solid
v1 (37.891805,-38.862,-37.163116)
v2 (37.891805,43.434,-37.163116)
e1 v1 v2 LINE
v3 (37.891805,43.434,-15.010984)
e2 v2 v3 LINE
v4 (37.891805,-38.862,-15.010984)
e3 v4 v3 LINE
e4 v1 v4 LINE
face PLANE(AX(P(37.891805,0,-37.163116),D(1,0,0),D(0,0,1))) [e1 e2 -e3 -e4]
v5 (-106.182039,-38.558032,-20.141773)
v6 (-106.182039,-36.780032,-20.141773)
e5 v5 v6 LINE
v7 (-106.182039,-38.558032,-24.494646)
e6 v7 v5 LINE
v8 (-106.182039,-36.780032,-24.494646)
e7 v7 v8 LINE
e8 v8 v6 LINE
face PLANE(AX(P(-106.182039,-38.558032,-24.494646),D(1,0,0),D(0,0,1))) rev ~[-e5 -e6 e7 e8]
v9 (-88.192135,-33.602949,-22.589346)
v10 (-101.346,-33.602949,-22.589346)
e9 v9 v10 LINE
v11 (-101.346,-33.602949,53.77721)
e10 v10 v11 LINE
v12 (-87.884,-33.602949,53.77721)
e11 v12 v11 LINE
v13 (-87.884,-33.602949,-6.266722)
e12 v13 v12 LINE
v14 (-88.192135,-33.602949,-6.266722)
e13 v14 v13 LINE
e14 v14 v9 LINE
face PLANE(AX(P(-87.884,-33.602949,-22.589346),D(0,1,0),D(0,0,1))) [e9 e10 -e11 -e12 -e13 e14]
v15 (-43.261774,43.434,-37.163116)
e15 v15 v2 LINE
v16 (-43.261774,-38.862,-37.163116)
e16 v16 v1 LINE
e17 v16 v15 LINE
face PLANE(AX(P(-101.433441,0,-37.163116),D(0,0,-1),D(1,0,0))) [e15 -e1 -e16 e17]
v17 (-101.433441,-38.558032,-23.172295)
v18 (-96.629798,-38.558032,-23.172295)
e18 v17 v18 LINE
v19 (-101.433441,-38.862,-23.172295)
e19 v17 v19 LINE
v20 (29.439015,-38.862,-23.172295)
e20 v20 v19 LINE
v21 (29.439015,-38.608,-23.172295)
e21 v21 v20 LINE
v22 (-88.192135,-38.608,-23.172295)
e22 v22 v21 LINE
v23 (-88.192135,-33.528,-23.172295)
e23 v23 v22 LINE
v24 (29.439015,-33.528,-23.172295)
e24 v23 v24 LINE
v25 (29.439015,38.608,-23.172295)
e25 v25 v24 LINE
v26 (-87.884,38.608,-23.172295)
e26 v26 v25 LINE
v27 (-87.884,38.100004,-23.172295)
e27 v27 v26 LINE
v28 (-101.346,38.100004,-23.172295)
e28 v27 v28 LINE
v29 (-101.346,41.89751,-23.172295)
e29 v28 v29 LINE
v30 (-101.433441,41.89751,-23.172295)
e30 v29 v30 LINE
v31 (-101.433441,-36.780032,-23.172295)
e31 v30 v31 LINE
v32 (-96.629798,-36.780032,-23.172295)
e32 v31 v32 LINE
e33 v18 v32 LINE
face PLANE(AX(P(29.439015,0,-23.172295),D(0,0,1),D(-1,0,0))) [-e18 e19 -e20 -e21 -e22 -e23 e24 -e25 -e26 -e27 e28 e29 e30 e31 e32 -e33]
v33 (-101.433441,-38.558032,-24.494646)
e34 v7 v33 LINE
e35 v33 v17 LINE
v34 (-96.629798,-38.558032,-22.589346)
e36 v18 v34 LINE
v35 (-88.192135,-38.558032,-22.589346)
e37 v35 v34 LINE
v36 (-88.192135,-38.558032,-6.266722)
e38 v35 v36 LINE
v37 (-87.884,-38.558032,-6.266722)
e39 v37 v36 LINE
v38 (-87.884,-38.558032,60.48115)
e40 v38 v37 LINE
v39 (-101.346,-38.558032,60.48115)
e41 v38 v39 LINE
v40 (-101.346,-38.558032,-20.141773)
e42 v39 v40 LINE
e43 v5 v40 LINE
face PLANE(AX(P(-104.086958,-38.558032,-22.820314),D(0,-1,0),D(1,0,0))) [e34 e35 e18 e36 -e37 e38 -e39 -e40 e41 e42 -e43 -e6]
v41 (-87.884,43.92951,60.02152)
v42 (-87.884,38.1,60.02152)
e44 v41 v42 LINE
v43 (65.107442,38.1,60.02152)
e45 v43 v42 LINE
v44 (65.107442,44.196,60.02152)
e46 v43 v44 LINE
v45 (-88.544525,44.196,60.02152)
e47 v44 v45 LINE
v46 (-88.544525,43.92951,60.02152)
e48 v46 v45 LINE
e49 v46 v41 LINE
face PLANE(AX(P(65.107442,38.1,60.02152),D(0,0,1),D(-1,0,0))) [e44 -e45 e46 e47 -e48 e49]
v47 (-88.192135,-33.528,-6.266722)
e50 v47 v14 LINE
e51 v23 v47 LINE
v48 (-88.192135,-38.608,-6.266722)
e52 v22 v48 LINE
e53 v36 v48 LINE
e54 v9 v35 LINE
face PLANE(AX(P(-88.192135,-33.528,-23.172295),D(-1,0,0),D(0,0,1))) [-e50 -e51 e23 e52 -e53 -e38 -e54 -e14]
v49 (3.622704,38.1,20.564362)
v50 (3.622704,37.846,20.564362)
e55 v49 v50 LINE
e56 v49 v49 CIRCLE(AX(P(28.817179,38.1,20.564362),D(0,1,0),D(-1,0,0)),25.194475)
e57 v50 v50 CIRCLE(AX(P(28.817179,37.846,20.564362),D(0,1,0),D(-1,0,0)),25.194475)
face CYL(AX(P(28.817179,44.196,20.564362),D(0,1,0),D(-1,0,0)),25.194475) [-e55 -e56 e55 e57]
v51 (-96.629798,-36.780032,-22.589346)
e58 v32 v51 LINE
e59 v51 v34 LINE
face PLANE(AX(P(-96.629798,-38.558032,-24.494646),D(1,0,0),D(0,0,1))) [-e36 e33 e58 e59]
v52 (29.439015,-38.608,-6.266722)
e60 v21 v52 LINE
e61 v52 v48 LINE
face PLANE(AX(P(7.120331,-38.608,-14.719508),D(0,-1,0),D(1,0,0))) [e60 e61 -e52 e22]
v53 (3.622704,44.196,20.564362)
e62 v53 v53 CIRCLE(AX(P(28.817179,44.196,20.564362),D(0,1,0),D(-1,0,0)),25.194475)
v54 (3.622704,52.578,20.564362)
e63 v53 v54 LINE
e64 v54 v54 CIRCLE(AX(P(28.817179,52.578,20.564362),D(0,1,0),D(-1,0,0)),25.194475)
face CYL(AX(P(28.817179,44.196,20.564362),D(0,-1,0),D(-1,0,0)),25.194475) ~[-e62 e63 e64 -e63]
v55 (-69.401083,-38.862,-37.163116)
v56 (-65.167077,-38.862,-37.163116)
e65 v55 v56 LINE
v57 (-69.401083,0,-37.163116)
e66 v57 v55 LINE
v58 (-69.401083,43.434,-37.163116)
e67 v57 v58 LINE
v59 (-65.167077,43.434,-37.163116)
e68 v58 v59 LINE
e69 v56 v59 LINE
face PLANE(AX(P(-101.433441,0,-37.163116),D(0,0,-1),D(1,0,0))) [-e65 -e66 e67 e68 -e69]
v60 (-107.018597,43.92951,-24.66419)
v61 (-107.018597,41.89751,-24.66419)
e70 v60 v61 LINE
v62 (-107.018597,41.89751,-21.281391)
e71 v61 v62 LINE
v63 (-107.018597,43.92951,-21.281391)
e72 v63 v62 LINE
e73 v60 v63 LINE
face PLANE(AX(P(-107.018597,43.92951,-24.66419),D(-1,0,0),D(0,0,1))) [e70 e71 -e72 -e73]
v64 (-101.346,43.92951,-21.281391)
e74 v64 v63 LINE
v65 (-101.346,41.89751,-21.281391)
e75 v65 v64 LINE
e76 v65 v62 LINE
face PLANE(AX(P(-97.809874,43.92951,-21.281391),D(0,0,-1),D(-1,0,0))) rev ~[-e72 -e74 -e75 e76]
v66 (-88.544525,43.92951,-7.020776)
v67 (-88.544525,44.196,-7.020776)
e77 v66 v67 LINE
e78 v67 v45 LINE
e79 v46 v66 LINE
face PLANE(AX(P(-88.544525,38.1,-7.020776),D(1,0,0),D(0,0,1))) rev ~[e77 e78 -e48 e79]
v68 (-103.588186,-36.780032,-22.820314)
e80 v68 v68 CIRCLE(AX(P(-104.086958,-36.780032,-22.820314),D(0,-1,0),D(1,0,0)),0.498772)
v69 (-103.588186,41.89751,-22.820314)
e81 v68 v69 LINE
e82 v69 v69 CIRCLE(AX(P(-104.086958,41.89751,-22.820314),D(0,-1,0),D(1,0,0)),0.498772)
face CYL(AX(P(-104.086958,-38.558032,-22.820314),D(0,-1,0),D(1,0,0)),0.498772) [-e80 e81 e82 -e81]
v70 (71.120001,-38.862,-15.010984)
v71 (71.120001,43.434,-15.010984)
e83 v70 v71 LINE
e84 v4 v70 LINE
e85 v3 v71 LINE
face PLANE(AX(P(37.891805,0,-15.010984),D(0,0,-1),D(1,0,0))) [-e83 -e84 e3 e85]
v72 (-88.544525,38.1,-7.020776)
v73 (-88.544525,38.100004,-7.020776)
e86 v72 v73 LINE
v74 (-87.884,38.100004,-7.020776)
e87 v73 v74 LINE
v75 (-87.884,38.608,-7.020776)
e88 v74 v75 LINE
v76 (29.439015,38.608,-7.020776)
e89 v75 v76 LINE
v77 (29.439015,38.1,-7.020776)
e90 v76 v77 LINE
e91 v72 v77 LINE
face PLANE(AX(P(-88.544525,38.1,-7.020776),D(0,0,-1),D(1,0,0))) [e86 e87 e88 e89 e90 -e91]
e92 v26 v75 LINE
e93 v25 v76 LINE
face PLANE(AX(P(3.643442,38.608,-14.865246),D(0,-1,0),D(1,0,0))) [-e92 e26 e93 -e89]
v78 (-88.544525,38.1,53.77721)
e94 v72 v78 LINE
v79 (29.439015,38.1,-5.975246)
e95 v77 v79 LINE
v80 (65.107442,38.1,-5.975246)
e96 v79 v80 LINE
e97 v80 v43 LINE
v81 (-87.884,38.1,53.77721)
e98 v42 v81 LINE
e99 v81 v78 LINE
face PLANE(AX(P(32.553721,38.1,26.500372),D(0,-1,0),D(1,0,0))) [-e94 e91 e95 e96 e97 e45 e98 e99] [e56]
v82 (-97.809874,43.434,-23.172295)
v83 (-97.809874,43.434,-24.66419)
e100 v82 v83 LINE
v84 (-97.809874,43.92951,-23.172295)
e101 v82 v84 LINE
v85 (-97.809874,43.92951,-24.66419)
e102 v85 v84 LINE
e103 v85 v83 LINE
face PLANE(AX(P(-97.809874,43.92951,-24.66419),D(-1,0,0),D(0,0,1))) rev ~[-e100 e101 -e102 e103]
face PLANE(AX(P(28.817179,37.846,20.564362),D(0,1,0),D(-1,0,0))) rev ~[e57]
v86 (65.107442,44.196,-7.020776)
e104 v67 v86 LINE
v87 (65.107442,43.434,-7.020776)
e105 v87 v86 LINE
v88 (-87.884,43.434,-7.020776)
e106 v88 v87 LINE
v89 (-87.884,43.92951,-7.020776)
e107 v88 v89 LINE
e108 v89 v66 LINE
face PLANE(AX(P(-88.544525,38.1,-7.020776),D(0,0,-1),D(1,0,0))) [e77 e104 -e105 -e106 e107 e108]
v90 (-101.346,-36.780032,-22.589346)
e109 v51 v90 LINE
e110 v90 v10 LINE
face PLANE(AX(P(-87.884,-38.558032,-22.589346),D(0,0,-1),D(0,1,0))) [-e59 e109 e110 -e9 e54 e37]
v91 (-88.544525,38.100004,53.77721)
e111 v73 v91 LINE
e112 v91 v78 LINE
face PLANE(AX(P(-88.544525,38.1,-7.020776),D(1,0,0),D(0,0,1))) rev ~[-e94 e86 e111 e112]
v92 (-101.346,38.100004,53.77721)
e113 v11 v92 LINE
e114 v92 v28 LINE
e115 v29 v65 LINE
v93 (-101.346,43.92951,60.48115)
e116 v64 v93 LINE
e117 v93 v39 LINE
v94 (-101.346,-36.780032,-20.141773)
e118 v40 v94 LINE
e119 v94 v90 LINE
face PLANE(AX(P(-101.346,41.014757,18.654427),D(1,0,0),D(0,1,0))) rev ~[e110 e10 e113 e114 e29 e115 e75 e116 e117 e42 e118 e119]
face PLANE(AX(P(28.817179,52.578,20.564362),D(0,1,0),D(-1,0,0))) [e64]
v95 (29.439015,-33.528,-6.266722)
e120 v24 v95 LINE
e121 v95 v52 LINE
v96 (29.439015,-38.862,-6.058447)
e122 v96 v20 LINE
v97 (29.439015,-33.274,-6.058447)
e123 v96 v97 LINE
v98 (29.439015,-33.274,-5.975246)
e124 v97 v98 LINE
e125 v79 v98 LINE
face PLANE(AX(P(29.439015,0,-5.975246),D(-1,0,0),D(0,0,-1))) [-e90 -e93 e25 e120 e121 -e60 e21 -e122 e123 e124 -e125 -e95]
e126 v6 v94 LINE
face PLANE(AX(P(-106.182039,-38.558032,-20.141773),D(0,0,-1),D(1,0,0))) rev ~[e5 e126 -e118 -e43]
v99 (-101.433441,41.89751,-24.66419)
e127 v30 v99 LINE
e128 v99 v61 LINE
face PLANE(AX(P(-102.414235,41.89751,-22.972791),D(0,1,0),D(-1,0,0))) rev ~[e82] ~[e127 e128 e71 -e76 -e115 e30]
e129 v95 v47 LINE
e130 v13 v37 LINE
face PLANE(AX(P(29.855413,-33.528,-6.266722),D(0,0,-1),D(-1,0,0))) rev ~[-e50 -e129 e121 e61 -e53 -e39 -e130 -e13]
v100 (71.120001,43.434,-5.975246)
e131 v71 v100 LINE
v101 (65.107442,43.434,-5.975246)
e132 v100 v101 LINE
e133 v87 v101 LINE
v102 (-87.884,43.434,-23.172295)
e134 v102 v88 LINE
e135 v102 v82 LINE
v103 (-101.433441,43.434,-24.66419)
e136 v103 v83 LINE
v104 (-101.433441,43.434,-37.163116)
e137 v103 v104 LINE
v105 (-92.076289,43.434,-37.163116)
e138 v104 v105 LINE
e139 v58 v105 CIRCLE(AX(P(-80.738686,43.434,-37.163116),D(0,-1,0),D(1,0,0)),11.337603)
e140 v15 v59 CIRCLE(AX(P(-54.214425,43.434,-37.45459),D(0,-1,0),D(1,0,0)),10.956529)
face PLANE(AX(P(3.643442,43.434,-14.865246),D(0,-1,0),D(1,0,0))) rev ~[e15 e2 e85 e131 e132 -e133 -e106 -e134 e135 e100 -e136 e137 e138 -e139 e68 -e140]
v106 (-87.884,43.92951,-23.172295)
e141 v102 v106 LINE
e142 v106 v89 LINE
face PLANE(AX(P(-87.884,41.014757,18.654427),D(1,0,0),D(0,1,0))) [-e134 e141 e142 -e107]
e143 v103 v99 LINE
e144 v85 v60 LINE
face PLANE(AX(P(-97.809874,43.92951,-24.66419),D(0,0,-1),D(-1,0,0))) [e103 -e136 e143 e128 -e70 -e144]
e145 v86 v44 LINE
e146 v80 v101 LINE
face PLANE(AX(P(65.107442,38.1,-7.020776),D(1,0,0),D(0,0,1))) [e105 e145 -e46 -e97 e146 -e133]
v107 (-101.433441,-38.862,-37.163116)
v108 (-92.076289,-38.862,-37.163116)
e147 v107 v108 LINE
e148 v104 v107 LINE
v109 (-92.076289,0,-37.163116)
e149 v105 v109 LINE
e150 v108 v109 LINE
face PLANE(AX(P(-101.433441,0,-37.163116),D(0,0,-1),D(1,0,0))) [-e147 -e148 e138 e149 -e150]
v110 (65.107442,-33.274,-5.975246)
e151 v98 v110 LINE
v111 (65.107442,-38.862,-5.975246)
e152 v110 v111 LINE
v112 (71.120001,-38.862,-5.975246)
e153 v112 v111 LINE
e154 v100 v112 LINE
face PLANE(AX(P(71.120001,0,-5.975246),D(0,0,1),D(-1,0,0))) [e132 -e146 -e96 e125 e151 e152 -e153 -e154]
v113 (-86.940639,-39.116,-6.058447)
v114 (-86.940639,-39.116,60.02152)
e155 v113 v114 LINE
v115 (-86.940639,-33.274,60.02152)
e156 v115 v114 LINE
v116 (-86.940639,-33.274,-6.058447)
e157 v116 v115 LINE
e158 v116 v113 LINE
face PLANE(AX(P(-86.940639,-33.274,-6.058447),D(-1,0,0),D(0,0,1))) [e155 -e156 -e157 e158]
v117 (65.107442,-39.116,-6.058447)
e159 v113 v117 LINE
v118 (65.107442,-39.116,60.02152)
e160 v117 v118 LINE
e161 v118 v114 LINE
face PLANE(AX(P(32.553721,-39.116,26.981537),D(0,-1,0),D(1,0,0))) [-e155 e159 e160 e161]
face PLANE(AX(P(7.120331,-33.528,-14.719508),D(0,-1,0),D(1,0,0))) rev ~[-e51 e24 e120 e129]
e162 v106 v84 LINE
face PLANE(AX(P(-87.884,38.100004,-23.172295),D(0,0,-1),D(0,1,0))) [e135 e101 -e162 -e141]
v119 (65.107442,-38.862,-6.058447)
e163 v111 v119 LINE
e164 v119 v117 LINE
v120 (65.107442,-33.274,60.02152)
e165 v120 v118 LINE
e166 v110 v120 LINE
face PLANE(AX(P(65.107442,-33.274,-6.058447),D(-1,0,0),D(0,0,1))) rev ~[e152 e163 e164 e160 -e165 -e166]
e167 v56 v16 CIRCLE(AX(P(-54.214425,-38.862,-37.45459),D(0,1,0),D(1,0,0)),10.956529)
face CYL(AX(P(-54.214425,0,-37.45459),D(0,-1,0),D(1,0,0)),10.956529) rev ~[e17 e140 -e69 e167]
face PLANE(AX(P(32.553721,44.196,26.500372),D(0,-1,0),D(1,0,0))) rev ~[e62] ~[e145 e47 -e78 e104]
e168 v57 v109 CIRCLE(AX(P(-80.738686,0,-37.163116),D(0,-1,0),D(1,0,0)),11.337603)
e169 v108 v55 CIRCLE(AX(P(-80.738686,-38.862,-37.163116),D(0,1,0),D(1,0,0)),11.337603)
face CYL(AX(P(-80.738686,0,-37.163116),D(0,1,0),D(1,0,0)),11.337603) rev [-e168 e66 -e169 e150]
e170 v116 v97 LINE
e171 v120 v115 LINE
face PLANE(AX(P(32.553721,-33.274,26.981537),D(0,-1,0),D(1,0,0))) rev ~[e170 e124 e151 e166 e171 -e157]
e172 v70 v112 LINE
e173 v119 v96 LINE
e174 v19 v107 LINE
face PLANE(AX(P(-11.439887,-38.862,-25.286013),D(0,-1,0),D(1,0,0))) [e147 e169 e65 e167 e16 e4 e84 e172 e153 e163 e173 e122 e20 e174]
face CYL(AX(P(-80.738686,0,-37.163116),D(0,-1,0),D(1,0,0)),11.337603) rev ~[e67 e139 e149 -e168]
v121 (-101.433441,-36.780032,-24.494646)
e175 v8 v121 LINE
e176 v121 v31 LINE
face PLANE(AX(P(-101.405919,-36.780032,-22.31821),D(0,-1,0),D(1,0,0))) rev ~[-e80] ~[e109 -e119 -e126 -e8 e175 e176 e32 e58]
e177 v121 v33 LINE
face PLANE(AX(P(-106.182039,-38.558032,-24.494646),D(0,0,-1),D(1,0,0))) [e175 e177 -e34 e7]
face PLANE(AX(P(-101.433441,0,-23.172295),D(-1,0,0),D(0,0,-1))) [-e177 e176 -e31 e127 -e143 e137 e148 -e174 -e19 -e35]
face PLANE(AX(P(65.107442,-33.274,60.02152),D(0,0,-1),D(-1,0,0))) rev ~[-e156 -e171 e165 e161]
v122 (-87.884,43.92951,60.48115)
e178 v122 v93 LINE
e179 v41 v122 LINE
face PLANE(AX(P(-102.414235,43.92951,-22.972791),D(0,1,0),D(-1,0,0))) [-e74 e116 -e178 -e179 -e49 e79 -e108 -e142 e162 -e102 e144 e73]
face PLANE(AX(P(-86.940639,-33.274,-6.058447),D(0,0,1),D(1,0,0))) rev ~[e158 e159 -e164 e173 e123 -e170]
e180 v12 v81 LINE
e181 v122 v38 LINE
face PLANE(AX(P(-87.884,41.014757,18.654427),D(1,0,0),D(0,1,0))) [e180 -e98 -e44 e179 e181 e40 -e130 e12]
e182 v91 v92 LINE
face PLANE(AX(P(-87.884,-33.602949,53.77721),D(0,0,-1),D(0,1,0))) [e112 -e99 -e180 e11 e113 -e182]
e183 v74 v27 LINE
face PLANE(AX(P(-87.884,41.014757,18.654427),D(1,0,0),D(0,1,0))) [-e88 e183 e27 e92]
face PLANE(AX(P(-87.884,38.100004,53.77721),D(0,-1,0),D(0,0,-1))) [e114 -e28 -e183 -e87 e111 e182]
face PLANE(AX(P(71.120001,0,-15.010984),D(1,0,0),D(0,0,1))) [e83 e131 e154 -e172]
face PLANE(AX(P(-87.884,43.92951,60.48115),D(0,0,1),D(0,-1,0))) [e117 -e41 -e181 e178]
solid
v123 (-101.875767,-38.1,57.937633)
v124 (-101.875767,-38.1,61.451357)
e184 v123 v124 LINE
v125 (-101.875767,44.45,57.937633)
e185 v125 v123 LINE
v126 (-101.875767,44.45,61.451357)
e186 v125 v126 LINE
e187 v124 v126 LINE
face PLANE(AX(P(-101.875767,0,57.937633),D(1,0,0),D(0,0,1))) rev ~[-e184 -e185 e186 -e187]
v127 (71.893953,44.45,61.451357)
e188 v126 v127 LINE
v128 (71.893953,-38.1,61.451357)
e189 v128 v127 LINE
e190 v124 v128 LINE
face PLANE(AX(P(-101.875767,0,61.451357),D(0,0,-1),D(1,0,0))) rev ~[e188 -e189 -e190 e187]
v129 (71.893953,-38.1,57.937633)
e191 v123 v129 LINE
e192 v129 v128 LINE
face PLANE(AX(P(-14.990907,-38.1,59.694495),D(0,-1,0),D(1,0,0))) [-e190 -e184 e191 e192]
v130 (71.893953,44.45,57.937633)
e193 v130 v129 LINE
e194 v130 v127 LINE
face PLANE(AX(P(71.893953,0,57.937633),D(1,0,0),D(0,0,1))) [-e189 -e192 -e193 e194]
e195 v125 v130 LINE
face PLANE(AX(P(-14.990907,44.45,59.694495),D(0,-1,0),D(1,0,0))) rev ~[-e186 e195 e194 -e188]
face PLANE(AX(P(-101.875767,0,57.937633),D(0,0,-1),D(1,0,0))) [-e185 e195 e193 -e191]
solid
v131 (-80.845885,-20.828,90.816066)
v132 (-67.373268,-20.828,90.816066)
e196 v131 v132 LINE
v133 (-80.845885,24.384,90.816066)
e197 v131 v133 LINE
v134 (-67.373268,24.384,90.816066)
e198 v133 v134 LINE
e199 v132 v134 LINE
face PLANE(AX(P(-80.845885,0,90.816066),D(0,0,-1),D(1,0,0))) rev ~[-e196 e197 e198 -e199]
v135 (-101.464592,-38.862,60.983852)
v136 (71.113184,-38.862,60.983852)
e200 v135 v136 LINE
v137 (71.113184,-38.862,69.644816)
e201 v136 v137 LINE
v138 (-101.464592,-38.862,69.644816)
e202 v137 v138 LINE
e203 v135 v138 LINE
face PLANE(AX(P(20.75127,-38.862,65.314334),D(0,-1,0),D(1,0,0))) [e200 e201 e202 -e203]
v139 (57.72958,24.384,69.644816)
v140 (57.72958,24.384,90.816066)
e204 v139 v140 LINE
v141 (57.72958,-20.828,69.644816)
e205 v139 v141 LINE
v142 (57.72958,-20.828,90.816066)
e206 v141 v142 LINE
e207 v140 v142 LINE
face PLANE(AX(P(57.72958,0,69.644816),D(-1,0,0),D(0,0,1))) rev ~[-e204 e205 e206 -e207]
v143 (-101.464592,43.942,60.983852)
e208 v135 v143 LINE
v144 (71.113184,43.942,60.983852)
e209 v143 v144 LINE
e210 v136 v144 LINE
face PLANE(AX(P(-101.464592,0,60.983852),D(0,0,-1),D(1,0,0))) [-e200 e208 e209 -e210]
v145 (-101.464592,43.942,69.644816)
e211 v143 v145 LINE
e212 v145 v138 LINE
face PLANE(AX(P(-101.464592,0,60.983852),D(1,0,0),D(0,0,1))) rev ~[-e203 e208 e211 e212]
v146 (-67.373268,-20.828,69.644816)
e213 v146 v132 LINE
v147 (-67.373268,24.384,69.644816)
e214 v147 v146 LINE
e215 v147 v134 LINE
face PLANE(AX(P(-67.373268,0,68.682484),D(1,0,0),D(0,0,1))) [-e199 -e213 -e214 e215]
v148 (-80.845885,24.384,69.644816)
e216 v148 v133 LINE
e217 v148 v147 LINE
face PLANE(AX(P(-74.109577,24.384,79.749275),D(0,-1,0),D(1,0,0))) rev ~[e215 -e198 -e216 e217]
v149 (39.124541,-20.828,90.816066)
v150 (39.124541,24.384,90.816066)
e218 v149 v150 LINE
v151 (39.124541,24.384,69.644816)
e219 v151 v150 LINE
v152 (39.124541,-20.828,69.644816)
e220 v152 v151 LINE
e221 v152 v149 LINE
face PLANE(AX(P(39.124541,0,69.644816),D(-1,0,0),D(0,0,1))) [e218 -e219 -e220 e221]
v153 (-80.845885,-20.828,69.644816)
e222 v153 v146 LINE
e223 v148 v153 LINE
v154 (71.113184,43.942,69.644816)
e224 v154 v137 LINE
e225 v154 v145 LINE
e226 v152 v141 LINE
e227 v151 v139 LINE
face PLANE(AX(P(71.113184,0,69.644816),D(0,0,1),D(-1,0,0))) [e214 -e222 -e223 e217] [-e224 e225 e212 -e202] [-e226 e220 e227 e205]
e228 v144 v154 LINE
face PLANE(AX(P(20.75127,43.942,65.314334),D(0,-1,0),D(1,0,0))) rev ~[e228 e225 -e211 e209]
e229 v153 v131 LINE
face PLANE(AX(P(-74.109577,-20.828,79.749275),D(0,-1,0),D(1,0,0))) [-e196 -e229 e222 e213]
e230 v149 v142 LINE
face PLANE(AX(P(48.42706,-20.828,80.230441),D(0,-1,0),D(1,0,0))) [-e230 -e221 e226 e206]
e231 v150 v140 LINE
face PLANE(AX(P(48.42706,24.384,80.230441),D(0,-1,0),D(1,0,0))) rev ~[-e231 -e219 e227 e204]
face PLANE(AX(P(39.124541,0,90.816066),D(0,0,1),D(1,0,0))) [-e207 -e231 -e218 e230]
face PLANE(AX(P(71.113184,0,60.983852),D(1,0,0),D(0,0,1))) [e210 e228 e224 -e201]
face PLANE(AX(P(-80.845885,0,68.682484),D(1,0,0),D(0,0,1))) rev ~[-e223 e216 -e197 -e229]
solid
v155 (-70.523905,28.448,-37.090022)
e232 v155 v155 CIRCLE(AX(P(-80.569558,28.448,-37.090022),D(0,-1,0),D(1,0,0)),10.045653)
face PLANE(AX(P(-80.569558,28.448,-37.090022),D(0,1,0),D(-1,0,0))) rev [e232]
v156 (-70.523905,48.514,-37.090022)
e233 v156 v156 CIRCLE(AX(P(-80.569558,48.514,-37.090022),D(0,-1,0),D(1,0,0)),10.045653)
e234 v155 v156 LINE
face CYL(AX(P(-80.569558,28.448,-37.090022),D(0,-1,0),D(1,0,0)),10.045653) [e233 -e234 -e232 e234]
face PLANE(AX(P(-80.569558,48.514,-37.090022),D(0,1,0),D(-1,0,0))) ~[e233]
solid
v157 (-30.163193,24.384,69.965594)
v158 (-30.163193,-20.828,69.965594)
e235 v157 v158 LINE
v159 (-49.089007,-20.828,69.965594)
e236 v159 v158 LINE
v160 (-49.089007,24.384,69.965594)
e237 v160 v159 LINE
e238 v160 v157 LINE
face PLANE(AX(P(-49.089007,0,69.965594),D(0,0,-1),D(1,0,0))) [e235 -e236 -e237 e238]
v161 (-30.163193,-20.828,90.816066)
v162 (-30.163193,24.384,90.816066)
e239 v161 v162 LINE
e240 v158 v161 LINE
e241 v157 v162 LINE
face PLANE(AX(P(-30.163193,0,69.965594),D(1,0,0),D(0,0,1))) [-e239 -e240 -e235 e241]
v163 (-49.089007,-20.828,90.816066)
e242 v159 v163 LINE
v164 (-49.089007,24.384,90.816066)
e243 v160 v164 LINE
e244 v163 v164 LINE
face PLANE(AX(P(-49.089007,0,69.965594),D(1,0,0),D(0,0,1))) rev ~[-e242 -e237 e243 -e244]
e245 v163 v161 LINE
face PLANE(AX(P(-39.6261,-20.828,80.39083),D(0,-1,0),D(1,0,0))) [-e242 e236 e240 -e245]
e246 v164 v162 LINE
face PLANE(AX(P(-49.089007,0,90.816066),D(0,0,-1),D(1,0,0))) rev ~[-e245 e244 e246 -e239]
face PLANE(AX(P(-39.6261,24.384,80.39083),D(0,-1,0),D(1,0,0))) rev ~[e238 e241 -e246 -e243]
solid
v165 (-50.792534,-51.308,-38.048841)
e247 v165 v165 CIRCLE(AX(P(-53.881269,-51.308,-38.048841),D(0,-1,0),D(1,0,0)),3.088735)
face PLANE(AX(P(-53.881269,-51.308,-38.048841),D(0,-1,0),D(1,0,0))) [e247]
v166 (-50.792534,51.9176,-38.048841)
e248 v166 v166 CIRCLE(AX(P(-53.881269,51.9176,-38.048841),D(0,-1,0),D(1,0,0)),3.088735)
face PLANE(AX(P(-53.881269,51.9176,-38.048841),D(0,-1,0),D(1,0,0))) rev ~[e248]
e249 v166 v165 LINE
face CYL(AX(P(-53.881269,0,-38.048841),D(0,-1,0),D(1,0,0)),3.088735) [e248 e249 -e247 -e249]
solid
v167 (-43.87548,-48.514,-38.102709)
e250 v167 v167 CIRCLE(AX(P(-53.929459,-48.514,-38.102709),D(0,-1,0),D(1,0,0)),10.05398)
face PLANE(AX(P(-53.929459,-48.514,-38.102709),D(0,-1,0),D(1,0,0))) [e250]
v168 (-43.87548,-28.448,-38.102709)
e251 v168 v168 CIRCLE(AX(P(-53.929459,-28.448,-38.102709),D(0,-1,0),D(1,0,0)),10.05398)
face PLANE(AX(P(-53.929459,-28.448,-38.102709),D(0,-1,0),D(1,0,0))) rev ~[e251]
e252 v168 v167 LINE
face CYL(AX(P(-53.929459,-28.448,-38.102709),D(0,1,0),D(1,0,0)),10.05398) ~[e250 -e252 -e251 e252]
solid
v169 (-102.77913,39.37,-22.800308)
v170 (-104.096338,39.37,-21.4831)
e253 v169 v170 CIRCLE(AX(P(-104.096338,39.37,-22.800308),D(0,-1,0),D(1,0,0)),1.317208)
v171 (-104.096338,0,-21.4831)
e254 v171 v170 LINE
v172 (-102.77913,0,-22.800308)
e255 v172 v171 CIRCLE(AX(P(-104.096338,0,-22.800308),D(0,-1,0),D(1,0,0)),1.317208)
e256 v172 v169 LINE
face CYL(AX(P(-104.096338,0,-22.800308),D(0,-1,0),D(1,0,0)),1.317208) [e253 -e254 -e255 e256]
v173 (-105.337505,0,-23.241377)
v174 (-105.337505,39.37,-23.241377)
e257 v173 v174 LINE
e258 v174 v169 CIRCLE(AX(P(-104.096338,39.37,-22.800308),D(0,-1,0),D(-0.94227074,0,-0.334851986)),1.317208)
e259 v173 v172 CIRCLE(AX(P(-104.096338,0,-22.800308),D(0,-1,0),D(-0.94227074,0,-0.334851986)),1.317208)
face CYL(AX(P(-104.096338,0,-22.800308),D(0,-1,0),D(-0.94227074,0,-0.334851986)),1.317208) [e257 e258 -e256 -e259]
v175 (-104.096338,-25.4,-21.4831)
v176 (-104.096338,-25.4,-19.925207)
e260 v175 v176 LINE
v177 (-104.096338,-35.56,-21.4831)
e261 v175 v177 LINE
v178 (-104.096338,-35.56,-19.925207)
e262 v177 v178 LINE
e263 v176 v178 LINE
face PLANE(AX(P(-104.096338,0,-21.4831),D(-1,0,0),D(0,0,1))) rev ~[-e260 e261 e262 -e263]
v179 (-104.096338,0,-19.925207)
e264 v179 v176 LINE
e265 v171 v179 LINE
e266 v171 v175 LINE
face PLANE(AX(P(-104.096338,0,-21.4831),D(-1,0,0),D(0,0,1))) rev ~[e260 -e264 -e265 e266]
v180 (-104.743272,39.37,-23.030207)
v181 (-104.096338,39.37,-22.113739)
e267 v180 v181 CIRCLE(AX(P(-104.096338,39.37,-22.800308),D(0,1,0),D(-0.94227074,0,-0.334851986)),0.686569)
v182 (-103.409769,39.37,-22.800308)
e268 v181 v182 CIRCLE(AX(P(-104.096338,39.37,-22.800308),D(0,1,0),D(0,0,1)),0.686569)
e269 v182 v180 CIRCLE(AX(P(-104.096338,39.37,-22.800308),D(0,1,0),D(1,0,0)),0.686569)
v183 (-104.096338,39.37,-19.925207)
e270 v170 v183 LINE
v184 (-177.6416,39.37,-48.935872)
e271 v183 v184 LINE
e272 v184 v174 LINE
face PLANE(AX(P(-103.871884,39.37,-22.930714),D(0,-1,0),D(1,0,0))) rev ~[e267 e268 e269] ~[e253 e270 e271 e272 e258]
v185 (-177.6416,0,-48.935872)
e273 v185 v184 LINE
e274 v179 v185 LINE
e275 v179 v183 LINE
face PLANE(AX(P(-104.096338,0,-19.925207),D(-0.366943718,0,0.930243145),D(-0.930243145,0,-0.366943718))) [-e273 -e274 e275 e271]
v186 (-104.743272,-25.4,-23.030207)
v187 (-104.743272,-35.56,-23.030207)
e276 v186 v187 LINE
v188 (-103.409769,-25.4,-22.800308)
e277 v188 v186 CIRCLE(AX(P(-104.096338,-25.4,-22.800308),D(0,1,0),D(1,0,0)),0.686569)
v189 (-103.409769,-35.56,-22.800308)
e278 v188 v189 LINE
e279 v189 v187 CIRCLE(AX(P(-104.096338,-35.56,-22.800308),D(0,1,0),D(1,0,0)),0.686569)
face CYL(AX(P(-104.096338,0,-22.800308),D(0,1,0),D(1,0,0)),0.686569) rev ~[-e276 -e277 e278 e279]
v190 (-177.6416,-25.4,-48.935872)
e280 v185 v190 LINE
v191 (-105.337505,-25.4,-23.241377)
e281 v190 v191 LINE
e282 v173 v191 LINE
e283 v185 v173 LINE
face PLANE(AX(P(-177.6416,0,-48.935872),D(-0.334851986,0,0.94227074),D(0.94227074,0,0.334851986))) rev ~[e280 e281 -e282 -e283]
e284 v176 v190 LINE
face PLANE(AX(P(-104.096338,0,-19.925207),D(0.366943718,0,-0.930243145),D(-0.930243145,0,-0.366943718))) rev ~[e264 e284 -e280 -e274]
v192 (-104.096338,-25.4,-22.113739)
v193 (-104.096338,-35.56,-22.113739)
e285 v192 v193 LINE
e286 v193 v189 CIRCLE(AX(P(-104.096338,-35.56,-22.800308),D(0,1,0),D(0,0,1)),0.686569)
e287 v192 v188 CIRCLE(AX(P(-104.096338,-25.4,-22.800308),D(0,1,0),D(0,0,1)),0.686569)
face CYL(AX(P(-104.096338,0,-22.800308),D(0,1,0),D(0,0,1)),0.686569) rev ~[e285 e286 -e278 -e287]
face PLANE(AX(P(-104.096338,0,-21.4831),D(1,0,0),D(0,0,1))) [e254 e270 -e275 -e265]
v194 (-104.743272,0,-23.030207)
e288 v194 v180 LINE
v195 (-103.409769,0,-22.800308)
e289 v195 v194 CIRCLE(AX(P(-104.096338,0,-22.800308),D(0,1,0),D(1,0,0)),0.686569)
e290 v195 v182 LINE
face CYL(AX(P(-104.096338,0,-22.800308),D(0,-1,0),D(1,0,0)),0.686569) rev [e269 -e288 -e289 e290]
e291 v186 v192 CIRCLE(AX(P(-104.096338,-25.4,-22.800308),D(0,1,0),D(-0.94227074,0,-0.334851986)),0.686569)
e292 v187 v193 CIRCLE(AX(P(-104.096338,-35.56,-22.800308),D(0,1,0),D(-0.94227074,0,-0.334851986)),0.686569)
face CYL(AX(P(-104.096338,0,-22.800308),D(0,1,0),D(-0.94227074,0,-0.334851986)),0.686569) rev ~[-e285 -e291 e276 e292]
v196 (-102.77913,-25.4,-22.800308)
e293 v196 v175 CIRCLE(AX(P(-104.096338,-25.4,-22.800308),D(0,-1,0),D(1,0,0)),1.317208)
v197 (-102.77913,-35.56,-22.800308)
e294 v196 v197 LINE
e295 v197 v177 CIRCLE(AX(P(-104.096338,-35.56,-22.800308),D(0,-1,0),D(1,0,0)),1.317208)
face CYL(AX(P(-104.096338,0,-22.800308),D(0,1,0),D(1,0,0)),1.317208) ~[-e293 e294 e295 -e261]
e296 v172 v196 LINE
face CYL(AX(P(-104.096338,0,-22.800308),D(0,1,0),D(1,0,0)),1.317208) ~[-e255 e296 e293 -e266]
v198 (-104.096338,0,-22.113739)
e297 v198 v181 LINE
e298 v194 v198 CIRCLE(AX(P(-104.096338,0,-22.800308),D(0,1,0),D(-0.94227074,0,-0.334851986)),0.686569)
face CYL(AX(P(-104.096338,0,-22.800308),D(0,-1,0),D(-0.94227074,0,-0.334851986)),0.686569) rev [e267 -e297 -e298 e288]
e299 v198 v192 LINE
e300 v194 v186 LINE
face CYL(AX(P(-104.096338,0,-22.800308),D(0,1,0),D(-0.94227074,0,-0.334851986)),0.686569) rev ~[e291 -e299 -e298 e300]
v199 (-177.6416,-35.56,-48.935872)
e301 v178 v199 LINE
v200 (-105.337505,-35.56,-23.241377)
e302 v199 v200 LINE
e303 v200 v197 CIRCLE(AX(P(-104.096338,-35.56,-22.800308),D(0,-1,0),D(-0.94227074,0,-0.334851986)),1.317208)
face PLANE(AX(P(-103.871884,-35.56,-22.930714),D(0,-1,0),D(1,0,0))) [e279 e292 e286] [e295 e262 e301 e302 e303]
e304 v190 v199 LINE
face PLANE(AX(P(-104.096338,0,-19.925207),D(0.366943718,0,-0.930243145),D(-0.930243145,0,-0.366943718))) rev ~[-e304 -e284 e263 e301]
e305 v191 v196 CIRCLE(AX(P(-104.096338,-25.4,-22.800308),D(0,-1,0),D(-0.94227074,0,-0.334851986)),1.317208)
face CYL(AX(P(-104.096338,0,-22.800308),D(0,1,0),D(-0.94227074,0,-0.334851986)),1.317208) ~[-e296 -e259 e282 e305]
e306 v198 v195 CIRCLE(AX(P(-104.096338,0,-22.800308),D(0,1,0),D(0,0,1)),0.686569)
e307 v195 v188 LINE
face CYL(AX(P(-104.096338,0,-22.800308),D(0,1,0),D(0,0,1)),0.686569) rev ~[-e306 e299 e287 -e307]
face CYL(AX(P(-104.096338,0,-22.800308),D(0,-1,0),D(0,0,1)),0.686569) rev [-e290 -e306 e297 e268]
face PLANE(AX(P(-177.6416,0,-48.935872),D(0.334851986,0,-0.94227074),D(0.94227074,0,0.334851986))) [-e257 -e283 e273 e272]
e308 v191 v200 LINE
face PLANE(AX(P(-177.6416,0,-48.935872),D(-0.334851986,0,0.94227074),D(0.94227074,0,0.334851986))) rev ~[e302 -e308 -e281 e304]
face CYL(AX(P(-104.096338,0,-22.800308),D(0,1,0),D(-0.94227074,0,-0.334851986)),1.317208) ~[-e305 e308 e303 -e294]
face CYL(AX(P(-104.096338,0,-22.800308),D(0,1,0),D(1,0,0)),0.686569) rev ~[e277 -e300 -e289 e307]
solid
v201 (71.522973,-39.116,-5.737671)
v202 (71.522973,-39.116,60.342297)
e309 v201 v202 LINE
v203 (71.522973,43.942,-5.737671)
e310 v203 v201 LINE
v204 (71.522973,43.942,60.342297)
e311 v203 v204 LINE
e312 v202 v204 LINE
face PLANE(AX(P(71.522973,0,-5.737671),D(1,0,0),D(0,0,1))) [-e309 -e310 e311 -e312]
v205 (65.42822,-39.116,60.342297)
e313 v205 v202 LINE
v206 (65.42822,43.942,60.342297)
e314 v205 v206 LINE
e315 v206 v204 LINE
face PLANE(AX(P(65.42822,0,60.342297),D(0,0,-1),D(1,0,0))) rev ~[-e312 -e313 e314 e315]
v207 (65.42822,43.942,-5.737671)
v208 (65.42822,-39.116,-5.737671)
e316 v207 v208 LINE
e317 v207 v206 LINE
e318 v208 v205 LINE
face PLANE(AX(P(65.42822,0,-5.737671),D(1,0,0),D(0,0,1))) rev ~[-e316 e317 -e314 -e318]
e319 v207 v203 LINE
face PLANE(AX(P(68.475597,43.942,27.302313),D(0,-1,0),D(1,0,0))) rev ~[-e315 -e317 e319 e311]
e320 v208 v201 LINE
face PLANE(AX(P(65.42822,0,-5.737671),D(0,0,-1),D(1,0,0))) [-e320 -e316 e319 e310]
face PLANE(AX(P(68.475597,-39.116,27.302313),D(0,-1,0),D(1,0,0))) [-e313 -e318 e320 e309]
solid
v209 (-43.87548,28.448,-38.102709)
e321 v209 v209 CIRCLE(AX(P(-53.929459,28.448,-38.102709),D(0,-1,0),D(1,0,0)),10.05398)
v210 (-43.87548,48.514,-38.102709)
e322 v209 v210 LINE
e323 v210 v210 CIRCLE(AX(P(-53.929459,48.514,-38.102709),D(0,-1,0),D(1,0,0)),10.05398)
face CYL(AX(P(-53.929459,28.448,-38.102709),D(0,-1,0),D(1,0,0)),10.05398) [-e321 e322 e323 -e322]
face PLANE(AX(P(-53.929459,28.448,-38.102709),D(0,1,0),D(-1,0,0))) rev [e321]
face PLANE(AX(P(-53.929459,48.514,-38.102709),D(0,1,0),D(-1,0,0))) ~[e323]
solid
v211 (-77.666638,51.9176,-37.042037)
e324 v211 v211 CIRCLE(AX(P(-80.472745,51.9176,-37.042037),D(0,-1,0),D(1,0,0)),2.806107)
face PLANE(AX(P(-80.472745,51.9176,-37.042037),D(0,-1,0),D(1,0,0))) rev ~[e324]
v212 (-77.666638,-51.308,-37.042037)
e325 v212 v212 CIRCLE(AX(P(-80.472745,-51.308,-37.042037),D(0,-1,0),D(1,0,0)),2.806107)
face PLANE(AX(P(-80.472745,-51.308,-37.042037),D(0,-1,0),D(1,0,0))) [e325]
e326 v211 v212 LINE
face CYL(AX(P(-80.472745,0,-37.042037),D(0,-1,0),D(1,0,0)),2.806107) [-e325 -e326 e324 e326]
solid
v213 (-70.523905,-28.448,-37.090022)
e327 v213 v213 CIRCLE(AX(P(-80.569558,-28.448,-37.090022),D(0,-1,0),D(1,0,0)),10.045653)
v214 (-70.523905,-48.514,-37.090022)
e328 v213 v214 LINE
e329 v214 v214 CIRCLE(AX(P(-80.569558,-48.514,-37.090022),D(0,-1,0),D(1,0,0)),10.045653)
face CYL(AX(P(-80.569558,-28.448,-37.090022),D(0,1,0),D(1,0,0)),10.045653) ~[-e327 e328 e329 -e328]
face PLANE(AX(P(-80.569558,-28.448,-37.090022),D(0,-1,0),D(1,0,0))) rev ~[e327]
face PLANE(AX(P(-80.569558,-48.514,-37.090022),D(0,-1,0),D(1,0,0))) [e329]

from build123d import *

# Parameters (mm, degrees)
F1_DEPTH       = 38.862
F1_DEPTH_BACK  = 43.434
F2_R           = 11.3376030002
F2_R_2         = 10.956529081
F3_DEPTH       = 43.942
F3_DEPTH_BACK  = 49.276
F5_START       = 33.528
F4_W           = 45.4701650888
F4_H           = 16.9055731967
F4_W_2         = 72.5773833692
F5_DEPTH       = 5.08
F7_START       = -38.608
F6_W           = 51.5911467373
F6_H           = 16.6140981019
F6_W_2         = 65.8734384924
F7_DEPTH       = 4.826
F9_START       = -87.884
F8_W           = 71.702953428
F8_H           = 6.7039392889
F9_DEPTH       = 13.462
F11_DEPTH      = 35.56
F11_DEPTH_BACK = 39.37
F12_W          = 6.0947537422
F12_H          = 66.0799681209
F13_DEPTH      = 39.116
F13_DEPTH_BACK = 43.942
F15_START      = 33.274
F14_W          = 65.1074424386
F14_H          = 66.0799662583
F14_W_2        = 86.940638721
F15_DEPTH      = 5.842
F17_START      = -38.1
F16_W          = 65.1074424386
F16_H          = 67.042295821
F16_W_2        = 88.5445252061
F17_DEPTH      = 6.096
F18_W          = 100.7238291204
F18_H          = 8.6609646678
F18_W_2        = 71.8539468944
F19_DEPTH      = 38.862
F19_DEPTH_BACK = 43.942
F20_W          = 18.925813958
F20_H          = 20.8504721522
F21_DEPTH      = 20.828
F21_DEPTH_BACK = 24.384
F20_W_2        = 13.4726166725
F20_H_2        = 22.1335813403
F20_W_3        = 18.6050385237
F20_H_3        = 21.1712494493
F22_W          = 173.7697198987
F22_H          = 3.5137236118
F23_DEPTH      = 38.1
F23_DEPTH_BACK = 44.45
F24_DEPTH      = 25.4
F25_W          = 9.2087239027
F25_H          = 3.3827982843
F26_DEPTH      = 2.032
F27_W          = 9.5522403717
F27_H          = 4.3528731912
F28_DEPTH      = 1.778
F29_R          = 0.498771705
F30_DEPTH      = 81.28
F32_START      = 28.448
F31_R          = 10.0539795899
F32_DEPTH      = 20.066
F31_R_2        = 10.0456530786
F34_R          = 3.0887352078
F35_DEPTH      = 51.308
F35_DEPTH_BACK = 51.9176
F34_R_2        = 2.8061072416
F36_R          = 25.1944748939
F37_DEPTH      = 8.382
F37_DEPTH_BACK = 6.35


with BuildPart() as f1:
    # F0 (on Front) → F1 (new body, two sides)
    with BuildSketch(Plane.XZ) as f1_sk:
        Polygon((71.1200013757, -15.0109836832), (71.1200013757, -5.9752459638), (29.439015314, -5.9752459638), (29.439015314, -23.172294721), (-101.4334410429, -23.172294721), (-101.4334410429, -37.1631160378), (37.891805172, -37.1631160378), (37.891805172, -15.0109836832), align=None)
    extrude(amount=F1_DEPTH)
    extrude(f1_sk.sketch, amount=-F1_DEPTH_BACK)

    # F2 (on Front) → F3 (cut, two sides)
    with BuildSketch(Plane.XZ) as f3_sk:
        with Locations((-80.7386860251, -37.1631160378)):
            Circle(F2_R)
        with Locations((-54.214425385, -37.4545902014)):
            Circle(F2_R_2)
    extrude(amount=F3_DEPTH, mode=Mode.SUBTRACT)
    extrude(f3_sk.sketch, amount=-F3_DEPTH_BACK, mode=Mode.SUBTRACT)

    # F4 (on Front) → F5 (join)
    with BuildSketch(Plane.XZ.offset(F5_START)):
        with Locations((7.120330818, -14.7195081227)):
            Rectangle(F4_W, F4_H)
        with Locations((-51.903443411, -14.7195081227)):
            Rectangle(F4_W_2, F4_H)
    extrude(amount=F5_DEPTH)

    # F6 (on Front) → F7 (join)
    with BuildSketch(Plane.XZ.offset(F7_START)):
        with Locations((3.6434419453, -14.8652456701)):
            Rectangle(F6_W, F6_H)
        with Locations((-55.0888506696, -14.8652456701)):
            Rectangle(F6_W_2, F6_H)
    extrude(amount=-F7_DEPTH)

    # F8 (on Right) → F9 (join)
    with BuildSketch(Plane.YZ.offset(F9_START)):
        Polygon((38.1000041962, -23.172294721), (43.9295098186, -23.172294721), (43.9295098186, 60.4811497033), (38.1000041962, 60.4811497033), (38.1000041962, 53.7772104144), align=None)
        with Locations((2.2485274822, 57.1291800588)):
            Rectangle(F8_W, F8_H)
        Polygon((-33.6029492319, -22.5893463939), (-33.6029492319, 53.7772104144), (-33.6029492319, 60.4811497033), (-38.5580323637, 60.4811497033), (-38.5580323637, -22.5893463939), align=None)
    extrude(amount=-F9_DEPTH)

    # F14 (on Front) → F15 (join)
    with BuildSketch(Plane.XZ.offset(F15_START)):
        with Locations((32.5537212193, 26.9815365318)):
            Rectangle(F14_W, F14_H)
        with Locations((-43.4703193605, 26.9815365318)):
            Rectangle(F14_W_2, F14_H)
    extrude(amount=F15_DEPTH)

    # F16 (on Front) → F17 (join)
    with BuildSketch(Plane.XZ.offset(F17_START)):
        with Locations((32.5537212193, 26.5003717504)):
            Rectangle(F16_W, F16_H)
        with Locations((-44.272262603, 26.5003717504)):
            Rectangle(F16_W_2, F16_H)
    extrude(amount=-F17_DEPTH)

    # F25 (on face) → F26 (join)
    with BuildSketch(Plane(origin=(0, 43.9295098186, 0), x_dir=(-1, 0, 0), z_dir=(0, 1, 0))):
        with Locations((102.4142354727, -22.9727905244)):
            Rectangle(F25_W, F25_H)
    extrude(amount=-F26_DEPTH)

    # F27 (on face) → F28 (join)
    with BuildSketch(Plane.XZ.offset(38.5580323637)):
        with Locations((-101.4059185982, -22.3182095215)):
            Rectangle(F27_W, F27_H)
    extrude(amount=-F28_DEPTH)

    # F29 (on face) → F30 (join)
    with BuildSketch(Plane.XZ.offset(38.5580323637)):
        with Locations((-104.0869578719, -22.8203143924)):
            Circle(F29_R)
    extrude(amount=-F30_DEPTH)

    # F36 (on face) → F37 (join, two sides)
    with BuildSketch(Plane(origin=(0, 44.196, 0), x_dir=(-1, 0, 0), z_dir=(0, 1, 0))) as f37_sk:
        with Locations((-28.8171786815, 20.5643624067)):
            Circle(F36_R)
    extrude(amount=F37_DEPTH)
    extrude(f37_sk.sketch, amount=-F37_DEPTH_BACK)


with BuildPart() as f11:
    # F10 (on Front) → F11 (new body, two sides)
    with BuildSketch(Plane.XZ) as f11_sk:
        with BuildLine():
            ThreePointArc((-103.4097694487, -22.8003077209), (-103.9796929185, -23.476895095), (-104.7432717539, -23.0302066148))
            Line((-104.7432717539, -23.0302066148), (-105.3375046329, -23.2413774079))
            ThreePointArc((-105.3375046329, -23.2413774079), (-103.8725498773, -24.0983660815), (-102.7791302347, -22.8003077209))
            ThreePointArc((-102.7791302347, -22.8003077209), (-103.1649315017, -21.8689010697), (-104.0963381529, -21.4830998027))
            Line((-104.0963381529, -21.4830998027), (-104.0963381529, -22.1137390167))
            ThreePointArc((-104.0963381529, -22.1137390167), (-103.6108607664, -22.3148303344), (-103.4097694487, -22.8003077209))
        make_face()
        with BuildLine():
            Line((-105.3375046329, -23.2413774079), (-104.7432717539, -23.0302066148))
            ThreePointArc((-104.7432717539, -23.0302066148), (-104.6572383094, -22.4043688368), (-104.0963381529, -22.1137390167))
            Line((-104.0963381529, -22.1137390167), (-104.0963381529, -21.4830998027))
            ThreePointArc((-104.0963381529, -21.4830998027), (-105.1724462292, -22.0406840589), (-105.3375046329, -23.2413774079))
        make_face()
        with BuildLine():
            Line((-177.6416003704, -48.9358715713), (-105.3375046329, -23.2413774079))
            ThreePointArc((-105.3375046329, -23.2413774079), (-105.1724462292, -22.0406840589), (-104.0963381529, -21.4830998027))
            Line((-104.0963381529, -21.4830998027), (-104.0963381529, -19.9252068996))
            Line((-104.0963381529, -19.9252068996), (-177.6416003704, -48.9358715713))
        make_face()
    extrude(amount=F11_DEPTH)
    extrude(f11_sk.sketch, amount=-F11_DEPTH_BACK)

    # F10 (on Front) → F24 (join)
    with BuildSketch(Plane.XZ):
        with BuildLine():
            ThreePointArc((-103.4097694487, -22.8003077209), (-103.9796929185, -23.476895095), (-104.7432717539, -23.0302066148))
            Line((-104.7432717539, -23.0302066148), (-105.3375046329, -23.2413774079))
            ThreePointArc((-105.3375046329, -23.2413774079), (-103.8725498773, -24.0983660815), (-102.7791302347, -22.8003077209))
            ThreePointArc((-102.7791302347, -22.8003077209), (-103.1649315017, -21.8689010697), (-104.0963381529, -21.4830998027))
            Line((-104.0963381529, -21.4830998027), (-104.0963381529, -22.1137390167))
            ThreePointArc((-104.0963381529, -22.1137390167), (-103.6108607664, -22.3148303344), (-103.4097694487, -22.8003077209))
        make_face()
        with BuildLine():
            Line((-105.3375046329, -23.2413774079), (-104.7432717539, -23.0302066148))
            ThreePointArc((-104.7432717539, -23.0302066148), (-104.6572383094, -22.4043688368), (-104.0963381529, -22.1137390167))
            Line((-104.0963381529, -22.1137390167), (-104.0963381529, -21.4830998027))
            ThreePointArc((-104.0963381529, -21.4830998027), (-105.1724462292, -22.0406840589), (-105.3375046329, -23.2413774079))
        make_face()
        with BuildLine():
            Line((-177.6416003704, -48.9358715713), (-105.3375046329, -23.2413774079))
            ThreePointArc((-105.3375046329, -23.2413774079), (-105.1724462292, -22.0406840589), (-104.0963381529, -21.4830998027))
            Line((-104.0963381529, -21.4830998027), (-104.0963381529, -19.9252068996))
            Line((-104.0963381529, -19.9252068996), (-177.6416003704, -48.9358715713))
        make_face()
    extrude(amount=F24_DEPTH)


with BuildPart() as f13:
    # F12 (on Front) → F13 (new body, two sides)
    with BuildSketch(Plane.XZ) as f13_sk:
        with Locations((68.4755966067, 27.3023128975)):
            Rectangle(F12_W, F12_H)
    extrude(amount=F13_DEPTH)
    extrude(f13_sk.sketch, amount=-F13_DEPTH_BACK)


with BuildPart() as f19:
    # F18 (on Front) → F19 (new body, two sides)
    with BuildSketch(Plane.XZ) as f19_sk:
        with Locations((20.7512695342, 65.3143338859)):
            Rectangle(F18_W, F18_H)
        with Locations((-65.5376184732, 65.3143338859)):
            Rectangle(F18_W_2, F18_H)
    extrude(amount=F19_DEPTH)
    extrude(f19_sk.sketch, amount=-F19_DEPTH_BACK)

    # F20 (on Front) → F21, piece 2 (join, two sides)
    with BuildSketch(Plane.XZ) as f21_2_sk:
        with Locations((-74.1095766425, 79.7492749989)):
            Rectangle(F20_W_2, F20_H_2)
        with Locations((48.4270602465, 80.2304409444)):
            Rectangle(F20_W_3, F20_H_3)
    extrude(amount=F21_DEPTH)
    extrude(f21_2_sk.sketch, amount=-F21_DEPTH_BACK)


with BuildPart() as f21:
    # F20 (on Front) → F21 (new body, two sides)
    with BuildSketch(Plane.XZ) as f21_sk:
        with Locations((-39.6261001006, 80.3908295929)):
            Rectangle(F20_W, F20_H)
    extrude(amount=F21_DEPTH)
    extrude(f21_sk.sketch, amount=-F21_DEPTH_BACK)


with BuildPart() as f23:
    # F22 (on Front) → F23 (new body, two sides)
    with BuildSketch(Plane.XZ) as f23_sk:
        with Locations((-14.9909071624, 59.6944950521)):
            Rectangle(F22_W, F22_H)
    extrude(amount=F23_DEPTH)
    extrude(f23_sk.sketch, amount=-F23_DEPTH_BACK)


with BuildPart() as f32:
    # F31 (on Front) → F32 (new body)
    with BuildSketch(Plane.XZ.offset(F32_START)):
        with Locations((-53.9294593036, -38.1027087569)):
            Circle(F31_R)
    extrude(amount=F32_DEPTH)


with BuildPart() as f32b:
    # F31 (on Front) → F32, piece 2 (new body)
    with BuildSketch(Plane.XZ.offset(F32_START)):
        with Locations((-80.5695578456, -37.0900221169)):
            Circle(F31_R_2)
    extrude(amount=F32_DEPTH)


with BuildPart() as f33_1:
    # F33: instance of F32
    add(f32.part.mirror(Plane.XZ))


with BuildPart() as f33_2:
    # F33: instance of F32b
    add(f32b.part.mirror(Plane.XZ))


with BuildPart() as f35:
    # F34 (on Front) → F35 (new body, two sides)
    with BuildSketch(Plane.XZ) as f35_sk:
        with Locations((-53.8812689483, -38.0488410592)):
            Circle(F34_R)
    extrude(amount=F35_DEPTH)
    extrude(f35_sk.sketch, amount=-F35_DEPTH_BACK)


with BuildPart() as f35b:
    # F34 (on Front) → F35, piece 2 (new body, two sides)
    with BuildSketch(Plane.XZ) as f35_2_sk:
        with Locations((-80.4727450013, -37.0420366526)):
            Circle(F34_R_2)
    extrude(amount=F35_DEPTH)
    extrude(f35_2_sk.sketch, amount=-F35_DEPTH_BACK)


solid = Compound([f1.part, f11.part, f13.part, f19.part, f21.part, f23.part, f32.part, f32b.part, f33_1.part, f33_2.part, f35.part, f35b.part])
